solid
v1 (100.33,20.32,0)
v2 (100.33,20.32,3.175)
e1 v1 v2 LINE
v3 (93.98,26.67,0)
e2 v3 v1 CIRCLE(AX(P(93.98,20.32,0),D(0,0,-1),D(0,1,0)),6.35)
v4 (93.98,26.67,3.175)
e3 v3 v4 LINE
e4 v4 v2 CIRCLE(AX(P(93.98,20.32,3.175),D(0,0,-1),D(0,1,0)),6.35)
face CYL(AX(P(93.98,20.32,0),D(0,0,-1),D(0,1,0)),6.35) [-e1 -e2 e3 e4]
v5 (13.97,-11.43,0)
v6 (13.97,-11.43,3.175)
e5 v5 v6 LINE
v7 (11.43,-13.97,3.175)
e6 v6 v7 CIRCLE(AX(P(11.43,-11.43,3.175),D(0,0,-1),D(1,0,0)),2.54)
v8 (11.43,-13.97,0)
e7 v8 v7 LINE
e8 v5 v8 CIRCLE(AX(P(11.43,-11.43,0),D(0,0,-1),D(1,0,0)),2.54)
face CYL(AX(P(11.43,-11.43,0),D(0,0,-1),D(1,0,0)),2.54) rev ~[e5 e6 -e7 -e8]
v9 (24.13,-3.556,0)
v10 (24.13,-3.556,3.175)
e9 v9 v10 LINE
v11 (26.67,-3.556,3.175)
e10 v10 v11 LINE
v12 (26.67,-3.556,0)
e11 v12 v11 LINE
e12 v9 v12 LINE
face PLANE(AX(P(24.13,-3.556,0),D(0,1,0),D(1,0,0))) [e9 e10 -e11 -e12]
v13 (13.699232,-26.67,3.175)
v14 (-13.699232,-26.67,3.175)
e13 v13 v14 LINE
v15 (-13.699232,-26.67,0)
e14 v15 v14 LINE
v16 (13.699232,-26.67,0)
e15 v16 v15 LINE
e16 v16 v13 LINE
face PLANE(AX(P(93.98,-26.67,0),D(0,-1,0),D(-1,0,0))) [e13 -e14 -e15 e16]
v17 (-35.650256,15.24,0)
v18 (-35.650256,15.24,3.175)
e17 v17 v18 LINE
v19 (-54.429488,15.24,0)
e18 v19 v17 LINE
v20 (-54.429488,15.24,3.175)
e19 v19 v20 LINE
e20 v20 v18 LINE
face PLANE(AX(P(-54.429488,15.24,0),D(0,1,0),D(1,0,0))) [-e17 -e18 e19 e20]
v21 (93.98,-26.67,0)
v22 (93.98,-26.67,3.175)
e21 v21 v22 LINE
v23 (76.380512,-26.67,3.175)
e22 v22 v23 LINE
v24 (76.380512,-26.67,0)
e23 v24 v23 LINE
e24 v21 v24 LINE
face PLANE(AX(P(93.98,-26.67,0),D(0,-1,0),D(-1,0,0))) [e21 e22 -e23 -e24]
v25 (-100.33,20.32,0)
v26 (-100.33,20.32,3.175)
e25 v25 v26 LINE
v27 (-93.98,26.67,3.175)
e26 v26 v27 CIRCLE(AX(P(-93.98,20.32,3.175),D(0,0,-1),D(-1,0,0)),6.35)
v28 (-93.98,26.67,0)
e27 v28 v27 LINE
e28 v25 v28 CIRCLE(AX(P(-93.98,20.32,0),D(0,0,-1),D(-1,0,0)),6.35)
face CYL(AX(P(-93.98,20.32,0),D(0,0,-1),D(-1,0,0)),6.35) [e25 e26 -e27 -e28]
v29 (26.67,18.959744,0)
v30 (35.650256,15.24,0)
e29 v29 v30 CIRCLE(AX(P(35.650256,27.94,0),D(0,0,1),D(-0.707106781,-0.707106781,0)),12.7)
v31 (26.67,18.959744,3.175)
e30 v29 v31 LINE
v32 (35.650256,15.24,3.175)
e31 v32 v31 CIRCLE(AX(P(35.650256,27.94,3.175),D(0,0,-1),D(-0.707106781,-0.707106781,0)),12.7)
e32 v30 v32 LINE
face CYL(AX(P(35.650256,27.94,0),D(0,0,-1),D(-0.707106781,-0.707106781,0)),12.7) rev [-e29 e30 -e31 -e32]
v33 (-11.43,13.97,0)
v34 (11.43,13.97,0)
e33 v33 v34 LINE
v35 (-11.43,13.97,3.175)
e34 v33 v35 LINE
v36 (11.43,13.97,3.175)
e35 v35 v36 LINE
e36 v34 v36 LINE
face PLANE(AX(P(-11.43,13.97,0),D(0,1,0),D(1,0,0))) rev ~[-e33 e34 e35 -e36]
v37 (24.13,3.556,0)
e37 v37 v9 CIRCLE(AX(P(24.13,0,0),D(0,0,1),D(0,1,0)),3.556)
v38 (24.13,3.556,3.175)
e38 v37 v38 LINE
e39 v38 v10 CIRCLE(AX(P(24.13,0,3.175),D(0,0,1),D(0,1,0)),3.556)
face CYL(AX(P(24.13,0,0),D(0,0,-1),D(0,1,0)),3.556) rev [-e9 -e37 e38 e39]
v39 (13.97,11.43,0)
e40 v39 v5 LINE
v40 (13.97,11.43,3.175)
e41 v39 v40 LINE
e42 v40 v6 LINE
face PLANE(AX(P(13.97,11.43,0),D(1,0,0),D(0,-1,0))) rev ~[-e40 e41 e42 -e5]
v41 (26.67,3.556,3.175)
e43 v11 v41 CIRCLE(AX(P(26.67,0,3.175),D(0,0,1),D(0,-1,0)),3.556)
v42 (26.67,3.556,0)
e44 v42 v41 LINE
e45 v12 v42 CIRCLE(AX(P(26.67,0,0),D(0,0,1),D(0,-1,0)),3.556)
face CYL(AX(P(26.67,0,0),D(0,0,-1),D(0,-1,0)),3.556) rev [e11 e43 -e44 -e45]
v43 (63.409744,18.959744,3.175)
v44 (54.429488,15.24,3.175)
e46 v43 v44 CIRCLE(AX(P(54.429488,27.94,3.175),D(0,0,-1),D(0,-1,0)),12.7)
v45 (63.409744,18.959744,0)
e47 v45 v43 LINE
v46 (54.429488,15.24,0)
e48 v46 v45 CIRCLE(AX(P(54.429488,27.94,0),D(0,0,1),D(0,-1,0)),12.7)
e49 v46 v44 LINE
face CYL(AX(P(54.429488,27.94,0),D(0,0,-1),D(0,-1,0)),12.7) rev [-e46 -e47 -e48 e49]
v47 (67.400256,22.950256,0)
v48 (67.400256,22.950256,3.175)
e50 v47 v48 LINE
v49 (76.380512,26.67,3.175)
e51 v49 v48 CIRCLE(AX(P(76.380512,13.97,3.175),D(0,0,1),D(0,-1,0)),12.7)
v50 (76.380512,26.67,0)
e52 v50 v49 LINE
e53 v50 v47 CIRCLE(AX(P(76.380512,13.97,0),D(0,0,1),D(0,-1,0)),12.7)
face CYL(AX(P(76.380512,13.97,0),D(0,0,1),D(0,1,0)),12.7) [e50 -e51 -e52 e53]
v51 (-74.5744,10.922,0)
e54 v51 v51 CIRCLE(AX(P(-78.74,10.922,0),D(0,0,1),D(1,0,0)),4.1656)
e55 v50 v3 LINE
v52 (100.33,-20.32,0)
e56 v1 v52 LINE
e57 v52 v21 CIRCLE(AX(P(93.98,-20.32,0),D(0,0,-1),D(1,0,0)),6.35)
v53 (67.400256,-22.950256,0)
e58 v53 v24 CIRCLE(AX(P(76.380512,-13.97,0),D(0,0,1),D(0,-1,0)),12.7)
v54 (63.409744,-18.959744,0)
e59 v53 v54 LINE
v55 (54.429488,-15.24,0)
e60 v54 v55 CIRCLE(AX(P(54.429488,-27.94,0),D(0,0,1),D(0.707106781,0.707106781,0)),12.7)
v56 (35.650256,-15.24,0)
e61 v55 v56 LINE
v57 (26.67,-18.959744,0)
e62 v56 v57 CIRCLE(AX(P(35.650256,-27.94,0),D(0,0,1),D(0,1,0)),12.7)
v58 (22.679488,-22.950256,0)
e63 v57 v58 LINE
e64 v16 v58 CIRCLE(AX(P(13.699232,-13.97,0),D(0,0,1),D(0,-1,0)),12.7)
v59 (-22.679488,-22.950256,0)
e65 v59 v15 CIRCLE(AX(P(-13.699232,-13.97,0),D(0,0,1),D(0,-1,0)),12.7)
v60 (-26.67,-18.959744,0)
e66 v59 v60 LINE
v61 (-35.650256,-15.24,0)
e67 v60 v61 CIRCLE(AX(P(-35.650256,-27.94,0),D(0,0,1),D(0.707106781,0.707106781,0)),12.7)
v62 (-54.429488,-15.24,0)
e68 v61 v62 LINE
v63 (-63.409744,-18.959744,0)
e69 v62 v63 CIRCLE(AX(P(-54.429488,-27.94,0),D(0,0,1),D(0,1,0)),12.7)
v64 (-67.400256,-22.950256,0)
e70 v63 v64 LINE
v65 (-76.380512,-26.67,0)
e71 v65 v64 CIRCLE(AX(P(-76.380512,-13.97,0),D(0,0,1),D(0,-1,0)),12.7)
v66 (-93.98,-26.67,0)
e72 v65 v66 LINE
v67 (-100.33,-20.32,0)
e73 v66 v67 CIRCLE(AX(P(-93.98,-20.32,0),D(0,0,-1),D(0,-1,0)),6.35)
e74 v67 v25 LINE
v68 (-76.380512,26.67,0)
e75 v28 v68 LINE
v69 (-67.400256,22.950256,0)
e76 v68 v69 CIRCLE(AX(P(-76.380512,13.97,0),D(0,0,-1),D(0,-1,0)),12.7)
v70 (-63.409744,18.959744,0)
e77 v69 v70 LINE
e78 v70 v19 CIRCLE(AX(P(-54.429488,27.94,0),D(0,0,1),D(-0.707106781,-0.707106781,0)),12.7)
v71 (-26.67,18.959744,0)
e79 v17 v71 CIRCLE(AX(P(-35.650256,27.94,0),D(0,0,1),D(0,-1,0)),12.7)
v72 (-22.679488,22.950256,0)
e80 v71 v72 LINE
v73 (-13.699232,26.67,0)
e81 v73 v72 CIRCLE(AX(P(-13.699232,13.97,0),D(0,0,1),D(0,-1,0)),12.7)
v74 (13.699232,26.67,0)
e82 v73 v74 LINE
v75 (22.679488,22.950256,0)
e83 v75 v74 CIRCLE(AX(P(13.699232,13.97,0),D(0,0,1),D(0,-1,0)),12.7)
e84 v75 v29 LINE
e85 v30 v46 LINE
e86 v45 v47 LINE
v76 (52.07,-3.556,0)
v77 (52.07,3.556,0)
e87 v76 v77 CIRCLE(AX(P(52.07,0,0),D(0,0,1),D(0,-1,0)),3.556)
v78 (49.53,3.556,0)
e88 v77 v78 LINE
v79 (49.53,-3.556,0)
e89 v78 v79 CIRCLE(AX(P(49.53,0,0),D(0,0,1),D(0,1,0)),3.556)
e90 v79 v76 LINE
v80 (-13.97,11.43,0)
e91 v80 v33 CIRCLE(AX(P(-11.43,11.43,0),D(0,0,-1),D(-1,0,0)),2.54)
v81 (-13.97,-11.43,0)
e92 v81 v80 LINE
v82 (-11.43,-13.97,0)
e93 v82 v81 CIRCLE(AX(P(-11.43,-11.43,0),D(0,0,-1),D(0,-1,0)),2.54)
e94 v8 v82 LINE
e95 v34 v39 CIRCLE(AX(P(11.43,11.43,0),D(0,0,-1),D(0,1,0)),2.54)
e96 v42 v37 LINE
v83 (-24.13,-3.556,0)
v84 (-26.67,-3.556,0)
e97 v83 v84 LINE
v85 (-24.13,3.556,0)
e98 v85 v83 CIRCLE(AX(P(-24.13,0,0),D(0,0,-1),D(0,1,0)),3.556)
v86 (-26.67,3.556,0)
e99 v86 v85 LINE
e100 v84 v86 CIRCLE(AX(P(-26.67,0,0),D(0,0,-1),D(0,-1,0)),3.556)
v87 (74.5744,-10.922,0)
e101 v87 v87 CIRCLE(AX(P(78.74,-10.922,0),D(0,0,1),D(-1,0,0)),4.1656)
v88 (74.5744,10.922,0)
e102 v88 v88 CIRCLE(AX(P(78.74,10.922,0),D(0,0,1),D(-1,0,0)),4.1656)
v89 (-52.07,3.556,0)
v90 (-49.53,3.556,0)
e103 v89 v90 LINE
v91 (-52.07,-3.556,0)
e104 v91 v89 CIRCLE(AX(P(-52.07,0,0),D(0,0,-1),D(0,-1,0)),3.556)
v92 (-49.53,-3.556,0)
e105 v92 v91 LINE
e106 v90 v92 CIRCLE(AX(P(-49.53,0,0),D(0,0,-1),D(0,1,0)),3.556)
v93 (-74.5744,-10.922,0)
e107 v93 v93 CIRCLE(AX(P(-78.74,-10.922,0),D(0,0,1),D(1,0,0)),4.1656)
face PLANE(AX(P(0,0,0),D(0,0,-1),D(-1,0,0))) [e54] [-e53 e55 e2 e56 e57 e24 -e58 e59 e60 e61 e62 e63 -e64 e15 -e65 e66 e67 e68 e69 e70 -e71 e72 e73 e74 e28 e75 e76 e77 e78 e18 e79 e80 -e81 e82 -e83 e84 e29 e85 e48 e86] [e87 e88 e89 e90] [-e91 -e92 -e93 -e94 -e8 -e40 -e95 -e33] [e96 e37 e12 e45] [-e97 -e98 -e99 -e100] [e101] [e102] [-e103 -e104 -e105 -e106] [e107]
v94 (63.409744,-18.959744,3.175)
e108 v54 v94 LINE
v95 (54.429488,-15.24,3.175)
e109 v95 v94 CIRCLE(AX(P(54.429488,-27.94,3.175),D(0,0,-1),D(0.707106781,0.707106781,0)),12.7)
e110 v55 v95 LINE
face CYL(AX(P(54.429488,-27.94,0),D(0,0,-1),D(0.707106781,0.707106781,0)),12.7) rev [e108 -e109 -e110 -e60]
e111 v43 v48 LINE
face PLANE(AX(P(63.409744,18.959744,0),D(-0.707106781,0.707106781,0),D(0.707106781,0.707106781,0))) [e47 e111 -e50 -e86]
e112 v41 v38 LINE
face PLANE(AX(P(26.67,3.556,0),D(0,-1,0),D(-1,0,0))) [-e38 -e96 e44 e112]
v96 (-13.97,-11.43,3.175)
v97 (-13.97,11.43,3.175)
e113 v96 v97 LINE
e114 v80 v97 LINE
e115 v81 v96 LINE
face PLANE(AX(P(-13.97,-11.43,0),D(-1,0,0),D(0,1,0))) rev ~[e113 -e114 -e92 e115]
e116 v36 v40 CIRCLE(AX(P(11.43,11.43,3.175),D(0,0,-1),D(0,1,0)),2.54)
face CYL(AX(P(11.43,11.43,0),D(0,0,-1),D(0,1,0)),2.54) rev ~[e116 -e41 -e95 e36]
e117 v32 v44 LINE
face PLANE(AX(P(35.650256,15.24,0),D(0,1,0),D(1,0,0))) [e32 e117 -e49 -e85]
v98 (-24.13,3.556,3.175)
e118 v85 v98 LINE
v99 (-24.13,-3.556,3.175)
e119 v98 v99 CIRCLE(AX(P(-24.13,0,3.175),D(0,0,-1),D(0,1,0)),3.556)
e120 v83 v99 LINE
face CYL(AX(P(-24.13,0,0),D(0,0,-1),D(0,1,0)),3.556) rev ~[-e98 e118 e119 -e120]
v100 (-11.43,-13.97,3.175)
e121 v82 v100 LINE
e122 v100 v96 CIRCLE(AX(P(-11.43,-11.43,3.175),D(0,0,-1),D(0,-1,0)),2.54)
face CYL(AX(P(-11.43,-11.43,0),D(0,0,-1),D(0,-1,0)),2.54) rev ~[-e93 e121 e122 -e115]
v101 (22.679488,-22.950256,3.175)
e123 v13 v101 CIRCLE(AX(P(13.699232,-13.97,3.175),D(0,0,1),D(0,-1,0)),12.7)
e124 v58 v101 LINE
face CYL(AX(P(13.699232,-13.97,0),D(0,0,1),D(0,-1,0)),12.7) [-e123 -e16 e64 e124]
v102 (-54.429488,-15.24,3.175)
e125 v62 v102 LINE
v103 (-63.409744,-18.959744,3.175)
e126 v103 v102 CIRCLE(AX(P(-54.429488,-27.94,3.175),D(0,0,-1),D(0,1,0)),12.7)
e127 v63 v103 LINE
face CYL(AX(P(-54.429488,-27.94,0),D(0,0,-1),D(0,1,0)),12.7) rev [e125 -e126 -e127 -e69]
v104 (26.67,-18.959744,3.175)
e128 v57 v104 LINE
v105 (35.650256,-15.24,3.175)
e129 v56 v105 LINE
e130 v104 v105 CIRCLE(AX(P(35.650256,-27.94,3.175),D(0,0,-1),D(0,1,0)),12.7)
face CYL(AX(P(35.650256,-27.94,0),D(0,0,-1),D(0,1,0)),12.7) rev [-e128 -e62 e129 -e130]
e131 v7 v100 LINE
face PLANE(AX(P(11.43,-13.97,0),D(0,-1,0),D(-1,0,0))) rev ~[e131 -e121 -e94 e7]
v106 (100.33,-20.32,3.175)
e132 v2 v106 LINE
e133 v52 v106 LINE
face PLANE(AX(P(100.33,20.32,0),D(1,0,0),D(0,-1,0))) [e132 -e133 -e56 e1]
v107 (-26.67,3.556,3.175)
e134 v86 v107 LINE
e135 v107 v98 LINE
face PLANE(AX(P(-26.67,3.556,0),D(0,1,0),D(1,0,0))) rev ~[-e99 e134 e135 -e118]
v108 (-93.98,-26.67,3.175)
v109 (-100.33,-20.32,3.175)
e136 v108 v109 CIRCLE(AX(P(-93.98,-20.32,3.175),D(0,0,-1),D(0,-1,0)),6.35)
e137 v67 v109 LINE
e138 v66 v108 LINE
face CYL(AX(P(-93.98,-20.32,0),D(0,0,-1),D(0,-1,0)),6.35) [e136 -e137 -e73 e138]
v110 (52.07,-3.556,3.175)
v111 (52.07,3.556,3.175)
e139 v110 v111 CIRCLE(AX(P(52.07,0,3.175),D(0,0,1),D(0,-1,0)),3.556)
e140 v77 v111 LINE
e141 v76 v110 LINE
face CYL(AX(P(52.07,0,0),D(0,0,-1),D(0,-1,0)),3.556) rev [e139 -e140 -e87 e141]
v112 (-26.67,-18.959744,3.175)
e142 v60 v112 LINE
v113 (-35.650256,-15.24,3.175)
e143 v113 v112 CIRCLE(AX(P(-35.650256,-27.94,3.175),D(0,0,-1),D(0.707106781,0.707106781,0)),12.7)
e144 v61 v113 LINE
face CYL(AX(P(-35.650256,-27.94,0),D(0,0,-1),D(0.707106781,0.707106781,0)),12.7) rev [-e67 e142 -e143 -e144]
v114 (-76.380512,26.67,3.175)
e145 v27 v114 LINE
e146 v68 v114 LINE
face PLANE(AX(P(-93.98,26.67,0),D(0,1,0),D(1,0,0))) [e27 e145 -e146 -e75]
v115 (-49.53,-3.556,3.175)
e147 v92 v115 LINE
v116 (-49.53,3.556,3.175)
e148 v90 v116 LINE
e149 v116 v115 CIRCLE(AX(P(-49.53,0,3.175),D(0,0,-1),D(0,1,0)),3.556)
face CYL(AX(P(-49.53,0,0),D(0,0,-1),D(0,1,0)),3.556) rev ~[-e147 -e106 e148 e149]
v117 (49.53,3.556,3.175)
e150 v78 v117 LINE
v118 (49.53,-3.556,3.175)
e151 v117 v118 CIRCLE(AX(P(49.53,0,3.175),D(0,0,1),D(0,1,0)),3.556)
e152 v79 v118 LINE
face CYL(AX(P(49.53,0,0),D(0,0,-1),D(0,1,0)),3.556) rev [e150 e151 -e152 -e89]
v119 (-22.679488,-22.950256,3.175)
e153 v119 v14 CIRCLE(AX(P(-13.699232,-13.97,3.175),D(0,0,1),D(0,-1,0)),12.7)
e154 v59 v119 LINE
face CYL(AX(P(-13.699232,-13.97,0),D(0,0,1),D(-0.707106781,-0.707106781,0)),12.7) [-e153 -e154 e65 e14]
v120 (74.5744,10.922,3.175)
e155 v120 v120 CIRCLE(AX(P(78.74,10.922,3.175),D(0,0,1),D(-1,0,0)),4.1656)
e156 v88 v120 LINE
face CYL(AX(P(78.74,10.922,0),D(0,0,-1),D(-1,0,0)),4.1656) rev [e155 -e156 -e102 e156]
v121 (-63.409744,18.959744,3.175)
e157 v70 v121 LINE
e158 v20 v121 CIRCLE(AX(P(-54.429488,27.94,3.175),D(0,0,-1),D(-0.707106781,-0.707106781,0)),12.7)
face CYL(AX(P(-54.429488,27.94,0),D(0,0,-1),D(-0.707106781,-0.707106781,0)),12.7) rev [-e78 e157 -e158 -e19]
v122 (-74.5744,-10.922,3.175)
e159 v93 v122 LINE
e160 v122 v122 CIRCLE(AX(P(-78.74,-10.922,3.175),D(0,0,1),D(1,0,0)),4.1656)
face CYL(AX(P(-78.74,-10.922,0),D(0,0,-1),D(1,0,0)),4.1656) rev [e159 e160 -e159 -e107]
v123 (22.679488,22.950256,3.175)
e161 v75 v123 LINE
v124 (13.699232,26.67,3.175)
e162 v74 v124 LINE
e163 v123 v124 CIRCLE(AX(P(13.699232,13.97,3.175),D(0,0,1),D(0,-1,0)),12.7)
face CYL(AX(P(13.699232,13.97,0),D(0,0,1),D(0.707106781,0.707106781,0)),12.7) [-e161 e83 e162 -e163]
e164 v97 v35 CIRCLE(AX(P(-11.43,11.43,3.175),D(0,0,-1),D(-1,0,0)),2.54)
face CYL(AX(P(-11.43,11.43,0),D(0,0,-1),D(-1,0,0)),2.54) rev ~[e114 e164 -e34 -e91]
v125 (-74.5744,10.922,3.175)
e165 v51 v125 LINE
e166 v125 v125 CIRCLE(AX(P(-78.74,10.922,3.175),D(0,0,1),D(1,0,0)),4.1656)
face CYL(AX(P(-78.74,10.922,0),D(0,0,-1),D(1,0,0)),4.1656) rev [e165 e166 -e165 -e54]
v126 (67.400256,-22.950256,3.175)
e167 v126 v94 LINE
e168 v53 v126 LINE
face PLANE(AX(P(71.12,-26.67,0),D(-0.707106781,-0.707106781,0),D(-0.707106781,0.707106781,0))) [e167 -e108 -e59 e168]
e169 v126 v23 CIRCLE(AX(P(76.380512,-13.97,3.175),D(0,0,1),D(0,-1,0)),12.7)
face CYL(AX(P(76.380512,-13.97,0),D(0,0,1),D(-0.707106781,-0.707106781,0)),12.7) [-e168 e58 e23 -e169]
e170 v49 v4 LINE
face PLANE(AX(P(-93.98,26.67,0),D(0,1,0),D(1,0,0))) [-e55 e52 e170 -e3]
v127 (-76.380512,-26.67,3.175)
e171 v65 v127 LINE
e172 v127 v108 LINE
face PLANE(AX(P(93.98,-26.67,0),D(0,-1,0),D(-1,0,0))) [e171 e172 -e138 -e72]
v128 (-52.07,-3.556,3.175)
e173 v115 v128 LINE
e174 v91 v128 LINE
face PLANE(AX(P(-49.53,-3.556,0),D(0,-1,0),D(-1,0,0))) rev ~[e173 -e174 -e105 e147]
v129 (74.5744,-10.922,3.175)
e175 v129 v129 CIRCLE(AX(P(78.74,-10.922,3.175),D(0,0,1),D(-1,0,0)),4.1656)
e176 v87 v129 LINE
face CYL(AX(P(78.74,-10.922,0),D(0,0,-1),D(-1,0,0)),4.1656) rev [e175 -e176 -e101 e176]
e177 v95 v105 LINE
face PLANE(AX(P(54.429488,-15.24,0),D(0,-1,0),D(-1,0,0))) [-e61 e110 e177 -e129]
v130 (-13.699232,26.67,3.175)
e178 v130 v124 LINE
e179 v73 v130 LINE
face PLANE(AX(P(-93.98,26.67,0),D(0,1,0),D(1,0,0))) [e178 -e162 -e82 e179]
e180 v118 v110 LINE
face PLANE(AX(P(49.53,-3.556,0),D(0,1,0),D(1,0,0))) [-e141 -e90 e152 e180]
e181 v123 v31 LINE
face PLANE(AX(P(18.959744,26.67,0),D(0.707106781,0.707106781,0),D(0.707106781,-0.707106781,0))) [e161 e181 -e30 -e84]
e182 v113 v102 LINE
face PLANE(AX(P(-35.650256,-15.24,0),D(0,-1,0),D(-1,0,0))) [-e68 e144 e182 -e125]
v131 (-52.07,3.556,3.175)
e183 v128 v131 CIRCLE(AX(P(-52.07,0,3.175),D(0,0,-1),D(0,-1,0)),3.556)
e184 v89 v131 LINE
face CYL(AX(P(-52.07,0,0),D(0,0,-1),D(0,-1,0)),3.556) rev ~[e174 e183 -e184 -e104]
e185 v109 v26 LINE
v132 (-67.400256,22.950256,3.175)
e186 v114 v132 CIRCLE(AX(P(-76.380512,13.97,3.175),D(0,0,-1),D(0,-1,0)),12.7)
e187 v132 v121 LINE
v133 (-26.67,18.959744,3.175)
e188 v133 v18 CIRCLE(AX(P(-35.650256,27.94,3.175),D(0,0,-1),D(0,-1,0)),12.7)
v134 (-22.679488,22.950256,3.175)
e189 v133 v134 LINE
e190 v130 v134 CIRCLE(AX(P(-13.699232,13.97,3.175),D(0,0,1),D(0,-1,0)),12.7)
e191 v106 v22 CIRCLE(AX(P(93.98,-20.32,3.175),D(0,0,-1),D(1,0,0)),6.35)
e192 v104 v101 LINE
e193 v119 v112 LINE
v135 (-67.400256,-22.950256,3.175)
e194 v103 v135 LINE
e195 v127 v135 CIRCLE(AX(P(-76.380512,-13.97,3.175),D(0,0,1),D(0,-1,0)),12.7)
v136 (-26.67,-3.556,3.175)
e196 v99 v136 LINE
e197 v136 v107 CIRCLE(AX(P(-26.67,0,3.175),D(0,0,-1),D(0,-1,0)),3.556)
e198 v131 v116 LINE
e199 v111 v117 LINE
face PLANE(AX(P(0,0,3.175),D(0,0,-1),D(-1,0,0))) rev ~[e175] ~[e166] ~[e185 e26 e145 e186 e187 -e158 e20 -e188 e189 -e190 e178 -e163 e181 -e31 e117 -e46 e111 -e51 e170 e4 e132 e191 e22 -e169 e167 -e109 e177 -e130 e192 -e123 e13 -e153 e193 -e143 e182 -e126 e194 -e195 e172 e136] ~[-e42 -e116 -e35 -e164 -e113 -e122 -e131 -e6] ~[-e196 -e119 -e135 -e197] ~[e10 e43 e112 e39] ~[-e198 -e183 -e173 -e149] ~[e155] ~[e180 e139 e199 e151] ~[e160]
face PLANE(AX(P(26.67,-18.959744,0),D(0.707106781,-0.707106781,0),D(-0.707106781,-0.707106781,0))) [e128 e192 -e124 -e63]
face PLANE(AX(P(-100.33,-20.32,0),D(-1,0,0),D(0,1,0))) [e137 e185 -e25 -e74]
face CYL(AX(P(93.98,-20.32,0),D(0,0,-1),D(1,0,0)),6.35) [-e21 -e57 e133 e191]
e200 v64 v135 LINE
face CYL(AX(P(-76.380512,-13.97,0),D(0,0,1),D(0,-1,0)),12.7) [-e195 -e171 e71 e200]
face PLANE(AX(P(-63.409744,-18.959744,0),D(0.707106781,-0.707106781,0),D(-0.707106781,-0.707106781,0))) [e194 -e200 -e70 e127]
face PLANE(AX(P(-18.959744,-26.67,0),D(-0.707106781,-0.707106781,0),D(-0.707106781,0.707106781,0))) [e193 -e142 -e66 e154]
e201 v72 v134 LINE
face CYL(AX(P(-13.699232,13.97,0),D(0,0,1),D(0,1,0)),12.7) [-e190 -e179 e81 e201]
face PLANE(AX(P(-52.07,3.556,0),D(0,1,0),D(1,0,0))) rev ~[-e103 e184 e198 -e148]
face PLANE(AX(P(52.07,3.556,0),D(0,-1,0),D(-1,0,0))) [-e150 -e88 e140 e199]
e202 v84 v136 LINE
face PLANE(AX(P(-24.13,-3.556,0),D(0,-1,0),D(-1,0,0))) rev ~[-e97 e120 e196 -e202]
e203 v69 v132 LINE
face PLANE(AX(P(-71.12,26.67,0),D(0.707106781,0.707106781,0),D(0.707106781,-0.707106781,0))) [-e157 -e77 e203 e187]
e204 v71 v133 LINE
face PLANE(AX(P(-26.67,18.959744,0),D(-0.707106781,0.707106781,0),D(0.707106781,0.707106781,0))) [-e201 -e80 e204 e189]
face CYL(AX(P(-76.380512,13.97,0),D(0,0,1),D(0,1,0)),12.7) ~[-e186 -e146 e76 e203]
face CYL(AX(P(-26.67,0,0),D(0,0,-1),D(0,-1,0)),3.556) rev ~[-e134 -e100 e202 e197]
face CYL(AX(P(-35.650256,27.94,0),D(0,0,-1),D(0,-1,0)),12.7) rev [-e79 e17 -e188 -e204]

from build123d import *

# Parameters (mm, degrees)
SKETCH1_R           = 4.1656
BOSS_EXTRUDE1_DEPTH = 3.175
CUT_EXTRUDE2_DEPTH  = 104.862786526
FILLET1_R           = 12.7


with BuildPart() as part:
    # Sketch1 → Boss-Extrude1 (new body)
    with BuildSketch(Plane.XY):
        with BuildLine():
            Line((-93.98, 26.67), (93.98, 26.67))
            ThreePointArc((93.98, 26.67), (98.470128061, 24.810128061), (100.33, 20.32))
            Line((100.33, 20.32), (100.33, -20.32))
            ThreePointArc((100.33, -20.32), (98.470128061, -24.810128061), (93.98, -26.67))
            Line((93.98, -26.67), (-93.98, -26.67))
            ThreePointArc((-93.98, -26.67), (-98.470128061, -24.810128061), (-100.33, -20.32))
            Line((-100.33, -20.32), (-100.33, 20.32))
            ThreePointArc((-100.33, 20.32), (-98.470128061, 24.810128061), (-93.98, 26.67))
        make_face()
        with Locations((-78.74, 10.922)):
            Circle(SKETCH1_R, mode=Mode.SUBTRACT)
        with Locations((-78.74, -10.922)):
            Circle(SKETCH1_R, mode=Mode.SUBTRACT)
        with Locations(Location((78.74, -10.922, 0), (0, 0, 180))):
            Circle(SKETCH1_R, mode=Mode.SUBTRACT)
        with Locations(Location((78.74, 10.922, 0), (0, 0, 180))):
            Circle(SKETCH1_R, mode=Mode.SUBTRACT)
        with BuildLine():
            Line((-11.43, 13.97), (11.43, 13.97))
            ThreePointArc((11.43, 13.97), (13.226051224, 13.226051224), (13.97, 11.43))
            Line((13.97, 11.43), (13.97, -11.43))
            ThreePointArc((13.97, -11.43), (13.226051224, -13.226051224), (11.43, -13.97))
            Line((11.43, -13.97), (-11.43, -13.97))
            ThreePointArc((-11.43, -13.97), (-13.226051224, -13.226051224), (-13.97, -11.43))
            Line((-13.97, -11.43), (-13.97, 11.43))
            ThreePointArc((-13.97, 11.43), (-13.226051224, 13.226051224), (-11.43, 13.97))
        make_face(mode=Mode.SUBTRACT)
        with BuildLine():
            Line((-52.07, 3.556), (-49.53, 3.556))
            ThreePointArc((-49.53, 3.556), (-45.974, 0), (-49.53, -3.556))
            Line((-49.53, -3.556), (-52.07, -3.556))
            ThreePointArc((-52.07, -3.556), (-55.626, 0), (-52.07, 3.556))
        make_face(mode=Mode.SUBTRACT)
        with BuildLine():
            Line((-26.67, 3.556), (-24.13, 3.556))
            ThreePointArc((-24.13, 3.556), (-20.574, 0), (-24.13, -3.556))
            Line((-24.13, -3.556), (-26.67, -3.556))
            ThreePointArc((-26.67, -3.556), (-30.226, 0), (-26.67, 3.556))
        make_face(mode=Mode.SUBTRACT)
        with BuildLine():
            Line((26.67, 3.556), (24.13, 3.556))
            ThreePointArc((24.13, 3.556), (20.574, 0), (24.13, -3.556))
            Line((24.13, -3.556), (26.67, -3.556))
            ThreePointArc((26.67, -3.556), (30.226, 0), (26.67, 3.556))
        make_face(mode=Mode.SUBTRACT)
        with BuildLine():
            Line((52.07, 3.556), (49.53, 3.556))
            ThreePointArc((49.53, 3.556), (45.974, 0), (49.53, -3.556))
            Line((49.53, -3.556), (52.07, -3.556))
            ThreePointArc((52.07, -3.556), (55.626, 0), (52.07, 3.556))
        make_face(mode=Mode.SUBTRACT)
    extrude(amount=BOSS_EXTRUDE1_DEPTH)

    # Sketch3 → Cut-Extrude2 (cut, through all)
    with BuildSketch(Plane.XY):
        with BuildLine():
            Line((-71.12, 26.67), (-63.409743879, 18.959743879))
            ThreePointArc((-63.409743879, 18.959743879), (-59.289567349, 16.206729937), (-54.429487758, 15.24))
            Line((-54.429487758, 15.24), (-35.650256121, 15.24))
            ThreePointArc((-35.650256121, 15.24), (-30.79017653, 16.206729937), (-26.67, 18.959743879))
            Line((-26.67, 18.959743879), (-18.959743879, 26.67))
            Line((-18.959743879, 26.67), (-71.12, 26.67))
        make_face()
        with BuildLine():
            Line((-71.12, -26.67), (-18.959743879, -26.67))
            Line((-18.959743879, -26.67), (-26.67, -18.959743879))
            ThreePointArc((-26.67, -18.959743879), (-30.79017653, -16.206729937), (-35.650256121, -15.24))
            Line((-35.650256121, -15.24), (-54.429487758, -15.24))
            ThreePointArc((-54.429487758, -15.24), (-59.289567349, -16.206729937), (-63.409743879, -18.959743879))
            Line((-63.409743879, -18.959743879), (-71.12, -26.67))
        make_face()
        with BuildLine():
            Line((71.12, -26.67), (63.409743879, -18.959743879))
            ThreePointArc((63.409743879, -18.959743879), (59.289567349, -16.206729937), (54.429487758, -15.24))
            Line((54.429487758, -15.24), (35.650256121, -15.24))
            ThreePointArc((35.650256121, -15.24), (30.79017653, -16.206729937), (26.67, -18.959743879))
            Line((26.67, -18.959743879), (18.959743879, -26.67))
            Line((18.959743879, -26.67), (71.12, -26.67))
        make_face()
        with BuildLine():
            Line((71.12, 26.67), (18.959743879, 26.67))
            Line((18.959743879, 26.67), (26.67, 18.959743879))
            ThreePointArc((26.67, 18.959743879), (30.79017653, 16.206729937), (35.650256121, 15.24))
            Line((35.650256121, 15.24), (54.429487758, 15.24))
            ThreePointArc((54.429487758, 15.24), (59.289567349, 16.206729937), (63.409743879, 18.959743879))
            Line((63.409743879, 18.959743879), (71.12, 26.67))
        make_face()
    extrude(amount=CUT_EXTRUDE2_DEPTH, mode=Mode.SUBTRACT)

    # Fillet1
    fillet1_edges = [part.edges().sort_by_distance(p)[0] for p in [
        (-18.959743879, 26.67, 1.5875),
        (-71.12, 26.67, 1.5875),
        (-71.12, -26.67, 1.5875),
        (-18.959743879, -26.67, 1.5875),
        (71.12, 26.67, 1.5875),
        (18.959743879, 26.67, 1.5875),
        (18.959743879, -26.67, 1.5875),
        (71.12, -26.67, 1.5875),
    ]]
    fillet(fillet1_edges, radius=FILLET1_R)


solid = part.part
